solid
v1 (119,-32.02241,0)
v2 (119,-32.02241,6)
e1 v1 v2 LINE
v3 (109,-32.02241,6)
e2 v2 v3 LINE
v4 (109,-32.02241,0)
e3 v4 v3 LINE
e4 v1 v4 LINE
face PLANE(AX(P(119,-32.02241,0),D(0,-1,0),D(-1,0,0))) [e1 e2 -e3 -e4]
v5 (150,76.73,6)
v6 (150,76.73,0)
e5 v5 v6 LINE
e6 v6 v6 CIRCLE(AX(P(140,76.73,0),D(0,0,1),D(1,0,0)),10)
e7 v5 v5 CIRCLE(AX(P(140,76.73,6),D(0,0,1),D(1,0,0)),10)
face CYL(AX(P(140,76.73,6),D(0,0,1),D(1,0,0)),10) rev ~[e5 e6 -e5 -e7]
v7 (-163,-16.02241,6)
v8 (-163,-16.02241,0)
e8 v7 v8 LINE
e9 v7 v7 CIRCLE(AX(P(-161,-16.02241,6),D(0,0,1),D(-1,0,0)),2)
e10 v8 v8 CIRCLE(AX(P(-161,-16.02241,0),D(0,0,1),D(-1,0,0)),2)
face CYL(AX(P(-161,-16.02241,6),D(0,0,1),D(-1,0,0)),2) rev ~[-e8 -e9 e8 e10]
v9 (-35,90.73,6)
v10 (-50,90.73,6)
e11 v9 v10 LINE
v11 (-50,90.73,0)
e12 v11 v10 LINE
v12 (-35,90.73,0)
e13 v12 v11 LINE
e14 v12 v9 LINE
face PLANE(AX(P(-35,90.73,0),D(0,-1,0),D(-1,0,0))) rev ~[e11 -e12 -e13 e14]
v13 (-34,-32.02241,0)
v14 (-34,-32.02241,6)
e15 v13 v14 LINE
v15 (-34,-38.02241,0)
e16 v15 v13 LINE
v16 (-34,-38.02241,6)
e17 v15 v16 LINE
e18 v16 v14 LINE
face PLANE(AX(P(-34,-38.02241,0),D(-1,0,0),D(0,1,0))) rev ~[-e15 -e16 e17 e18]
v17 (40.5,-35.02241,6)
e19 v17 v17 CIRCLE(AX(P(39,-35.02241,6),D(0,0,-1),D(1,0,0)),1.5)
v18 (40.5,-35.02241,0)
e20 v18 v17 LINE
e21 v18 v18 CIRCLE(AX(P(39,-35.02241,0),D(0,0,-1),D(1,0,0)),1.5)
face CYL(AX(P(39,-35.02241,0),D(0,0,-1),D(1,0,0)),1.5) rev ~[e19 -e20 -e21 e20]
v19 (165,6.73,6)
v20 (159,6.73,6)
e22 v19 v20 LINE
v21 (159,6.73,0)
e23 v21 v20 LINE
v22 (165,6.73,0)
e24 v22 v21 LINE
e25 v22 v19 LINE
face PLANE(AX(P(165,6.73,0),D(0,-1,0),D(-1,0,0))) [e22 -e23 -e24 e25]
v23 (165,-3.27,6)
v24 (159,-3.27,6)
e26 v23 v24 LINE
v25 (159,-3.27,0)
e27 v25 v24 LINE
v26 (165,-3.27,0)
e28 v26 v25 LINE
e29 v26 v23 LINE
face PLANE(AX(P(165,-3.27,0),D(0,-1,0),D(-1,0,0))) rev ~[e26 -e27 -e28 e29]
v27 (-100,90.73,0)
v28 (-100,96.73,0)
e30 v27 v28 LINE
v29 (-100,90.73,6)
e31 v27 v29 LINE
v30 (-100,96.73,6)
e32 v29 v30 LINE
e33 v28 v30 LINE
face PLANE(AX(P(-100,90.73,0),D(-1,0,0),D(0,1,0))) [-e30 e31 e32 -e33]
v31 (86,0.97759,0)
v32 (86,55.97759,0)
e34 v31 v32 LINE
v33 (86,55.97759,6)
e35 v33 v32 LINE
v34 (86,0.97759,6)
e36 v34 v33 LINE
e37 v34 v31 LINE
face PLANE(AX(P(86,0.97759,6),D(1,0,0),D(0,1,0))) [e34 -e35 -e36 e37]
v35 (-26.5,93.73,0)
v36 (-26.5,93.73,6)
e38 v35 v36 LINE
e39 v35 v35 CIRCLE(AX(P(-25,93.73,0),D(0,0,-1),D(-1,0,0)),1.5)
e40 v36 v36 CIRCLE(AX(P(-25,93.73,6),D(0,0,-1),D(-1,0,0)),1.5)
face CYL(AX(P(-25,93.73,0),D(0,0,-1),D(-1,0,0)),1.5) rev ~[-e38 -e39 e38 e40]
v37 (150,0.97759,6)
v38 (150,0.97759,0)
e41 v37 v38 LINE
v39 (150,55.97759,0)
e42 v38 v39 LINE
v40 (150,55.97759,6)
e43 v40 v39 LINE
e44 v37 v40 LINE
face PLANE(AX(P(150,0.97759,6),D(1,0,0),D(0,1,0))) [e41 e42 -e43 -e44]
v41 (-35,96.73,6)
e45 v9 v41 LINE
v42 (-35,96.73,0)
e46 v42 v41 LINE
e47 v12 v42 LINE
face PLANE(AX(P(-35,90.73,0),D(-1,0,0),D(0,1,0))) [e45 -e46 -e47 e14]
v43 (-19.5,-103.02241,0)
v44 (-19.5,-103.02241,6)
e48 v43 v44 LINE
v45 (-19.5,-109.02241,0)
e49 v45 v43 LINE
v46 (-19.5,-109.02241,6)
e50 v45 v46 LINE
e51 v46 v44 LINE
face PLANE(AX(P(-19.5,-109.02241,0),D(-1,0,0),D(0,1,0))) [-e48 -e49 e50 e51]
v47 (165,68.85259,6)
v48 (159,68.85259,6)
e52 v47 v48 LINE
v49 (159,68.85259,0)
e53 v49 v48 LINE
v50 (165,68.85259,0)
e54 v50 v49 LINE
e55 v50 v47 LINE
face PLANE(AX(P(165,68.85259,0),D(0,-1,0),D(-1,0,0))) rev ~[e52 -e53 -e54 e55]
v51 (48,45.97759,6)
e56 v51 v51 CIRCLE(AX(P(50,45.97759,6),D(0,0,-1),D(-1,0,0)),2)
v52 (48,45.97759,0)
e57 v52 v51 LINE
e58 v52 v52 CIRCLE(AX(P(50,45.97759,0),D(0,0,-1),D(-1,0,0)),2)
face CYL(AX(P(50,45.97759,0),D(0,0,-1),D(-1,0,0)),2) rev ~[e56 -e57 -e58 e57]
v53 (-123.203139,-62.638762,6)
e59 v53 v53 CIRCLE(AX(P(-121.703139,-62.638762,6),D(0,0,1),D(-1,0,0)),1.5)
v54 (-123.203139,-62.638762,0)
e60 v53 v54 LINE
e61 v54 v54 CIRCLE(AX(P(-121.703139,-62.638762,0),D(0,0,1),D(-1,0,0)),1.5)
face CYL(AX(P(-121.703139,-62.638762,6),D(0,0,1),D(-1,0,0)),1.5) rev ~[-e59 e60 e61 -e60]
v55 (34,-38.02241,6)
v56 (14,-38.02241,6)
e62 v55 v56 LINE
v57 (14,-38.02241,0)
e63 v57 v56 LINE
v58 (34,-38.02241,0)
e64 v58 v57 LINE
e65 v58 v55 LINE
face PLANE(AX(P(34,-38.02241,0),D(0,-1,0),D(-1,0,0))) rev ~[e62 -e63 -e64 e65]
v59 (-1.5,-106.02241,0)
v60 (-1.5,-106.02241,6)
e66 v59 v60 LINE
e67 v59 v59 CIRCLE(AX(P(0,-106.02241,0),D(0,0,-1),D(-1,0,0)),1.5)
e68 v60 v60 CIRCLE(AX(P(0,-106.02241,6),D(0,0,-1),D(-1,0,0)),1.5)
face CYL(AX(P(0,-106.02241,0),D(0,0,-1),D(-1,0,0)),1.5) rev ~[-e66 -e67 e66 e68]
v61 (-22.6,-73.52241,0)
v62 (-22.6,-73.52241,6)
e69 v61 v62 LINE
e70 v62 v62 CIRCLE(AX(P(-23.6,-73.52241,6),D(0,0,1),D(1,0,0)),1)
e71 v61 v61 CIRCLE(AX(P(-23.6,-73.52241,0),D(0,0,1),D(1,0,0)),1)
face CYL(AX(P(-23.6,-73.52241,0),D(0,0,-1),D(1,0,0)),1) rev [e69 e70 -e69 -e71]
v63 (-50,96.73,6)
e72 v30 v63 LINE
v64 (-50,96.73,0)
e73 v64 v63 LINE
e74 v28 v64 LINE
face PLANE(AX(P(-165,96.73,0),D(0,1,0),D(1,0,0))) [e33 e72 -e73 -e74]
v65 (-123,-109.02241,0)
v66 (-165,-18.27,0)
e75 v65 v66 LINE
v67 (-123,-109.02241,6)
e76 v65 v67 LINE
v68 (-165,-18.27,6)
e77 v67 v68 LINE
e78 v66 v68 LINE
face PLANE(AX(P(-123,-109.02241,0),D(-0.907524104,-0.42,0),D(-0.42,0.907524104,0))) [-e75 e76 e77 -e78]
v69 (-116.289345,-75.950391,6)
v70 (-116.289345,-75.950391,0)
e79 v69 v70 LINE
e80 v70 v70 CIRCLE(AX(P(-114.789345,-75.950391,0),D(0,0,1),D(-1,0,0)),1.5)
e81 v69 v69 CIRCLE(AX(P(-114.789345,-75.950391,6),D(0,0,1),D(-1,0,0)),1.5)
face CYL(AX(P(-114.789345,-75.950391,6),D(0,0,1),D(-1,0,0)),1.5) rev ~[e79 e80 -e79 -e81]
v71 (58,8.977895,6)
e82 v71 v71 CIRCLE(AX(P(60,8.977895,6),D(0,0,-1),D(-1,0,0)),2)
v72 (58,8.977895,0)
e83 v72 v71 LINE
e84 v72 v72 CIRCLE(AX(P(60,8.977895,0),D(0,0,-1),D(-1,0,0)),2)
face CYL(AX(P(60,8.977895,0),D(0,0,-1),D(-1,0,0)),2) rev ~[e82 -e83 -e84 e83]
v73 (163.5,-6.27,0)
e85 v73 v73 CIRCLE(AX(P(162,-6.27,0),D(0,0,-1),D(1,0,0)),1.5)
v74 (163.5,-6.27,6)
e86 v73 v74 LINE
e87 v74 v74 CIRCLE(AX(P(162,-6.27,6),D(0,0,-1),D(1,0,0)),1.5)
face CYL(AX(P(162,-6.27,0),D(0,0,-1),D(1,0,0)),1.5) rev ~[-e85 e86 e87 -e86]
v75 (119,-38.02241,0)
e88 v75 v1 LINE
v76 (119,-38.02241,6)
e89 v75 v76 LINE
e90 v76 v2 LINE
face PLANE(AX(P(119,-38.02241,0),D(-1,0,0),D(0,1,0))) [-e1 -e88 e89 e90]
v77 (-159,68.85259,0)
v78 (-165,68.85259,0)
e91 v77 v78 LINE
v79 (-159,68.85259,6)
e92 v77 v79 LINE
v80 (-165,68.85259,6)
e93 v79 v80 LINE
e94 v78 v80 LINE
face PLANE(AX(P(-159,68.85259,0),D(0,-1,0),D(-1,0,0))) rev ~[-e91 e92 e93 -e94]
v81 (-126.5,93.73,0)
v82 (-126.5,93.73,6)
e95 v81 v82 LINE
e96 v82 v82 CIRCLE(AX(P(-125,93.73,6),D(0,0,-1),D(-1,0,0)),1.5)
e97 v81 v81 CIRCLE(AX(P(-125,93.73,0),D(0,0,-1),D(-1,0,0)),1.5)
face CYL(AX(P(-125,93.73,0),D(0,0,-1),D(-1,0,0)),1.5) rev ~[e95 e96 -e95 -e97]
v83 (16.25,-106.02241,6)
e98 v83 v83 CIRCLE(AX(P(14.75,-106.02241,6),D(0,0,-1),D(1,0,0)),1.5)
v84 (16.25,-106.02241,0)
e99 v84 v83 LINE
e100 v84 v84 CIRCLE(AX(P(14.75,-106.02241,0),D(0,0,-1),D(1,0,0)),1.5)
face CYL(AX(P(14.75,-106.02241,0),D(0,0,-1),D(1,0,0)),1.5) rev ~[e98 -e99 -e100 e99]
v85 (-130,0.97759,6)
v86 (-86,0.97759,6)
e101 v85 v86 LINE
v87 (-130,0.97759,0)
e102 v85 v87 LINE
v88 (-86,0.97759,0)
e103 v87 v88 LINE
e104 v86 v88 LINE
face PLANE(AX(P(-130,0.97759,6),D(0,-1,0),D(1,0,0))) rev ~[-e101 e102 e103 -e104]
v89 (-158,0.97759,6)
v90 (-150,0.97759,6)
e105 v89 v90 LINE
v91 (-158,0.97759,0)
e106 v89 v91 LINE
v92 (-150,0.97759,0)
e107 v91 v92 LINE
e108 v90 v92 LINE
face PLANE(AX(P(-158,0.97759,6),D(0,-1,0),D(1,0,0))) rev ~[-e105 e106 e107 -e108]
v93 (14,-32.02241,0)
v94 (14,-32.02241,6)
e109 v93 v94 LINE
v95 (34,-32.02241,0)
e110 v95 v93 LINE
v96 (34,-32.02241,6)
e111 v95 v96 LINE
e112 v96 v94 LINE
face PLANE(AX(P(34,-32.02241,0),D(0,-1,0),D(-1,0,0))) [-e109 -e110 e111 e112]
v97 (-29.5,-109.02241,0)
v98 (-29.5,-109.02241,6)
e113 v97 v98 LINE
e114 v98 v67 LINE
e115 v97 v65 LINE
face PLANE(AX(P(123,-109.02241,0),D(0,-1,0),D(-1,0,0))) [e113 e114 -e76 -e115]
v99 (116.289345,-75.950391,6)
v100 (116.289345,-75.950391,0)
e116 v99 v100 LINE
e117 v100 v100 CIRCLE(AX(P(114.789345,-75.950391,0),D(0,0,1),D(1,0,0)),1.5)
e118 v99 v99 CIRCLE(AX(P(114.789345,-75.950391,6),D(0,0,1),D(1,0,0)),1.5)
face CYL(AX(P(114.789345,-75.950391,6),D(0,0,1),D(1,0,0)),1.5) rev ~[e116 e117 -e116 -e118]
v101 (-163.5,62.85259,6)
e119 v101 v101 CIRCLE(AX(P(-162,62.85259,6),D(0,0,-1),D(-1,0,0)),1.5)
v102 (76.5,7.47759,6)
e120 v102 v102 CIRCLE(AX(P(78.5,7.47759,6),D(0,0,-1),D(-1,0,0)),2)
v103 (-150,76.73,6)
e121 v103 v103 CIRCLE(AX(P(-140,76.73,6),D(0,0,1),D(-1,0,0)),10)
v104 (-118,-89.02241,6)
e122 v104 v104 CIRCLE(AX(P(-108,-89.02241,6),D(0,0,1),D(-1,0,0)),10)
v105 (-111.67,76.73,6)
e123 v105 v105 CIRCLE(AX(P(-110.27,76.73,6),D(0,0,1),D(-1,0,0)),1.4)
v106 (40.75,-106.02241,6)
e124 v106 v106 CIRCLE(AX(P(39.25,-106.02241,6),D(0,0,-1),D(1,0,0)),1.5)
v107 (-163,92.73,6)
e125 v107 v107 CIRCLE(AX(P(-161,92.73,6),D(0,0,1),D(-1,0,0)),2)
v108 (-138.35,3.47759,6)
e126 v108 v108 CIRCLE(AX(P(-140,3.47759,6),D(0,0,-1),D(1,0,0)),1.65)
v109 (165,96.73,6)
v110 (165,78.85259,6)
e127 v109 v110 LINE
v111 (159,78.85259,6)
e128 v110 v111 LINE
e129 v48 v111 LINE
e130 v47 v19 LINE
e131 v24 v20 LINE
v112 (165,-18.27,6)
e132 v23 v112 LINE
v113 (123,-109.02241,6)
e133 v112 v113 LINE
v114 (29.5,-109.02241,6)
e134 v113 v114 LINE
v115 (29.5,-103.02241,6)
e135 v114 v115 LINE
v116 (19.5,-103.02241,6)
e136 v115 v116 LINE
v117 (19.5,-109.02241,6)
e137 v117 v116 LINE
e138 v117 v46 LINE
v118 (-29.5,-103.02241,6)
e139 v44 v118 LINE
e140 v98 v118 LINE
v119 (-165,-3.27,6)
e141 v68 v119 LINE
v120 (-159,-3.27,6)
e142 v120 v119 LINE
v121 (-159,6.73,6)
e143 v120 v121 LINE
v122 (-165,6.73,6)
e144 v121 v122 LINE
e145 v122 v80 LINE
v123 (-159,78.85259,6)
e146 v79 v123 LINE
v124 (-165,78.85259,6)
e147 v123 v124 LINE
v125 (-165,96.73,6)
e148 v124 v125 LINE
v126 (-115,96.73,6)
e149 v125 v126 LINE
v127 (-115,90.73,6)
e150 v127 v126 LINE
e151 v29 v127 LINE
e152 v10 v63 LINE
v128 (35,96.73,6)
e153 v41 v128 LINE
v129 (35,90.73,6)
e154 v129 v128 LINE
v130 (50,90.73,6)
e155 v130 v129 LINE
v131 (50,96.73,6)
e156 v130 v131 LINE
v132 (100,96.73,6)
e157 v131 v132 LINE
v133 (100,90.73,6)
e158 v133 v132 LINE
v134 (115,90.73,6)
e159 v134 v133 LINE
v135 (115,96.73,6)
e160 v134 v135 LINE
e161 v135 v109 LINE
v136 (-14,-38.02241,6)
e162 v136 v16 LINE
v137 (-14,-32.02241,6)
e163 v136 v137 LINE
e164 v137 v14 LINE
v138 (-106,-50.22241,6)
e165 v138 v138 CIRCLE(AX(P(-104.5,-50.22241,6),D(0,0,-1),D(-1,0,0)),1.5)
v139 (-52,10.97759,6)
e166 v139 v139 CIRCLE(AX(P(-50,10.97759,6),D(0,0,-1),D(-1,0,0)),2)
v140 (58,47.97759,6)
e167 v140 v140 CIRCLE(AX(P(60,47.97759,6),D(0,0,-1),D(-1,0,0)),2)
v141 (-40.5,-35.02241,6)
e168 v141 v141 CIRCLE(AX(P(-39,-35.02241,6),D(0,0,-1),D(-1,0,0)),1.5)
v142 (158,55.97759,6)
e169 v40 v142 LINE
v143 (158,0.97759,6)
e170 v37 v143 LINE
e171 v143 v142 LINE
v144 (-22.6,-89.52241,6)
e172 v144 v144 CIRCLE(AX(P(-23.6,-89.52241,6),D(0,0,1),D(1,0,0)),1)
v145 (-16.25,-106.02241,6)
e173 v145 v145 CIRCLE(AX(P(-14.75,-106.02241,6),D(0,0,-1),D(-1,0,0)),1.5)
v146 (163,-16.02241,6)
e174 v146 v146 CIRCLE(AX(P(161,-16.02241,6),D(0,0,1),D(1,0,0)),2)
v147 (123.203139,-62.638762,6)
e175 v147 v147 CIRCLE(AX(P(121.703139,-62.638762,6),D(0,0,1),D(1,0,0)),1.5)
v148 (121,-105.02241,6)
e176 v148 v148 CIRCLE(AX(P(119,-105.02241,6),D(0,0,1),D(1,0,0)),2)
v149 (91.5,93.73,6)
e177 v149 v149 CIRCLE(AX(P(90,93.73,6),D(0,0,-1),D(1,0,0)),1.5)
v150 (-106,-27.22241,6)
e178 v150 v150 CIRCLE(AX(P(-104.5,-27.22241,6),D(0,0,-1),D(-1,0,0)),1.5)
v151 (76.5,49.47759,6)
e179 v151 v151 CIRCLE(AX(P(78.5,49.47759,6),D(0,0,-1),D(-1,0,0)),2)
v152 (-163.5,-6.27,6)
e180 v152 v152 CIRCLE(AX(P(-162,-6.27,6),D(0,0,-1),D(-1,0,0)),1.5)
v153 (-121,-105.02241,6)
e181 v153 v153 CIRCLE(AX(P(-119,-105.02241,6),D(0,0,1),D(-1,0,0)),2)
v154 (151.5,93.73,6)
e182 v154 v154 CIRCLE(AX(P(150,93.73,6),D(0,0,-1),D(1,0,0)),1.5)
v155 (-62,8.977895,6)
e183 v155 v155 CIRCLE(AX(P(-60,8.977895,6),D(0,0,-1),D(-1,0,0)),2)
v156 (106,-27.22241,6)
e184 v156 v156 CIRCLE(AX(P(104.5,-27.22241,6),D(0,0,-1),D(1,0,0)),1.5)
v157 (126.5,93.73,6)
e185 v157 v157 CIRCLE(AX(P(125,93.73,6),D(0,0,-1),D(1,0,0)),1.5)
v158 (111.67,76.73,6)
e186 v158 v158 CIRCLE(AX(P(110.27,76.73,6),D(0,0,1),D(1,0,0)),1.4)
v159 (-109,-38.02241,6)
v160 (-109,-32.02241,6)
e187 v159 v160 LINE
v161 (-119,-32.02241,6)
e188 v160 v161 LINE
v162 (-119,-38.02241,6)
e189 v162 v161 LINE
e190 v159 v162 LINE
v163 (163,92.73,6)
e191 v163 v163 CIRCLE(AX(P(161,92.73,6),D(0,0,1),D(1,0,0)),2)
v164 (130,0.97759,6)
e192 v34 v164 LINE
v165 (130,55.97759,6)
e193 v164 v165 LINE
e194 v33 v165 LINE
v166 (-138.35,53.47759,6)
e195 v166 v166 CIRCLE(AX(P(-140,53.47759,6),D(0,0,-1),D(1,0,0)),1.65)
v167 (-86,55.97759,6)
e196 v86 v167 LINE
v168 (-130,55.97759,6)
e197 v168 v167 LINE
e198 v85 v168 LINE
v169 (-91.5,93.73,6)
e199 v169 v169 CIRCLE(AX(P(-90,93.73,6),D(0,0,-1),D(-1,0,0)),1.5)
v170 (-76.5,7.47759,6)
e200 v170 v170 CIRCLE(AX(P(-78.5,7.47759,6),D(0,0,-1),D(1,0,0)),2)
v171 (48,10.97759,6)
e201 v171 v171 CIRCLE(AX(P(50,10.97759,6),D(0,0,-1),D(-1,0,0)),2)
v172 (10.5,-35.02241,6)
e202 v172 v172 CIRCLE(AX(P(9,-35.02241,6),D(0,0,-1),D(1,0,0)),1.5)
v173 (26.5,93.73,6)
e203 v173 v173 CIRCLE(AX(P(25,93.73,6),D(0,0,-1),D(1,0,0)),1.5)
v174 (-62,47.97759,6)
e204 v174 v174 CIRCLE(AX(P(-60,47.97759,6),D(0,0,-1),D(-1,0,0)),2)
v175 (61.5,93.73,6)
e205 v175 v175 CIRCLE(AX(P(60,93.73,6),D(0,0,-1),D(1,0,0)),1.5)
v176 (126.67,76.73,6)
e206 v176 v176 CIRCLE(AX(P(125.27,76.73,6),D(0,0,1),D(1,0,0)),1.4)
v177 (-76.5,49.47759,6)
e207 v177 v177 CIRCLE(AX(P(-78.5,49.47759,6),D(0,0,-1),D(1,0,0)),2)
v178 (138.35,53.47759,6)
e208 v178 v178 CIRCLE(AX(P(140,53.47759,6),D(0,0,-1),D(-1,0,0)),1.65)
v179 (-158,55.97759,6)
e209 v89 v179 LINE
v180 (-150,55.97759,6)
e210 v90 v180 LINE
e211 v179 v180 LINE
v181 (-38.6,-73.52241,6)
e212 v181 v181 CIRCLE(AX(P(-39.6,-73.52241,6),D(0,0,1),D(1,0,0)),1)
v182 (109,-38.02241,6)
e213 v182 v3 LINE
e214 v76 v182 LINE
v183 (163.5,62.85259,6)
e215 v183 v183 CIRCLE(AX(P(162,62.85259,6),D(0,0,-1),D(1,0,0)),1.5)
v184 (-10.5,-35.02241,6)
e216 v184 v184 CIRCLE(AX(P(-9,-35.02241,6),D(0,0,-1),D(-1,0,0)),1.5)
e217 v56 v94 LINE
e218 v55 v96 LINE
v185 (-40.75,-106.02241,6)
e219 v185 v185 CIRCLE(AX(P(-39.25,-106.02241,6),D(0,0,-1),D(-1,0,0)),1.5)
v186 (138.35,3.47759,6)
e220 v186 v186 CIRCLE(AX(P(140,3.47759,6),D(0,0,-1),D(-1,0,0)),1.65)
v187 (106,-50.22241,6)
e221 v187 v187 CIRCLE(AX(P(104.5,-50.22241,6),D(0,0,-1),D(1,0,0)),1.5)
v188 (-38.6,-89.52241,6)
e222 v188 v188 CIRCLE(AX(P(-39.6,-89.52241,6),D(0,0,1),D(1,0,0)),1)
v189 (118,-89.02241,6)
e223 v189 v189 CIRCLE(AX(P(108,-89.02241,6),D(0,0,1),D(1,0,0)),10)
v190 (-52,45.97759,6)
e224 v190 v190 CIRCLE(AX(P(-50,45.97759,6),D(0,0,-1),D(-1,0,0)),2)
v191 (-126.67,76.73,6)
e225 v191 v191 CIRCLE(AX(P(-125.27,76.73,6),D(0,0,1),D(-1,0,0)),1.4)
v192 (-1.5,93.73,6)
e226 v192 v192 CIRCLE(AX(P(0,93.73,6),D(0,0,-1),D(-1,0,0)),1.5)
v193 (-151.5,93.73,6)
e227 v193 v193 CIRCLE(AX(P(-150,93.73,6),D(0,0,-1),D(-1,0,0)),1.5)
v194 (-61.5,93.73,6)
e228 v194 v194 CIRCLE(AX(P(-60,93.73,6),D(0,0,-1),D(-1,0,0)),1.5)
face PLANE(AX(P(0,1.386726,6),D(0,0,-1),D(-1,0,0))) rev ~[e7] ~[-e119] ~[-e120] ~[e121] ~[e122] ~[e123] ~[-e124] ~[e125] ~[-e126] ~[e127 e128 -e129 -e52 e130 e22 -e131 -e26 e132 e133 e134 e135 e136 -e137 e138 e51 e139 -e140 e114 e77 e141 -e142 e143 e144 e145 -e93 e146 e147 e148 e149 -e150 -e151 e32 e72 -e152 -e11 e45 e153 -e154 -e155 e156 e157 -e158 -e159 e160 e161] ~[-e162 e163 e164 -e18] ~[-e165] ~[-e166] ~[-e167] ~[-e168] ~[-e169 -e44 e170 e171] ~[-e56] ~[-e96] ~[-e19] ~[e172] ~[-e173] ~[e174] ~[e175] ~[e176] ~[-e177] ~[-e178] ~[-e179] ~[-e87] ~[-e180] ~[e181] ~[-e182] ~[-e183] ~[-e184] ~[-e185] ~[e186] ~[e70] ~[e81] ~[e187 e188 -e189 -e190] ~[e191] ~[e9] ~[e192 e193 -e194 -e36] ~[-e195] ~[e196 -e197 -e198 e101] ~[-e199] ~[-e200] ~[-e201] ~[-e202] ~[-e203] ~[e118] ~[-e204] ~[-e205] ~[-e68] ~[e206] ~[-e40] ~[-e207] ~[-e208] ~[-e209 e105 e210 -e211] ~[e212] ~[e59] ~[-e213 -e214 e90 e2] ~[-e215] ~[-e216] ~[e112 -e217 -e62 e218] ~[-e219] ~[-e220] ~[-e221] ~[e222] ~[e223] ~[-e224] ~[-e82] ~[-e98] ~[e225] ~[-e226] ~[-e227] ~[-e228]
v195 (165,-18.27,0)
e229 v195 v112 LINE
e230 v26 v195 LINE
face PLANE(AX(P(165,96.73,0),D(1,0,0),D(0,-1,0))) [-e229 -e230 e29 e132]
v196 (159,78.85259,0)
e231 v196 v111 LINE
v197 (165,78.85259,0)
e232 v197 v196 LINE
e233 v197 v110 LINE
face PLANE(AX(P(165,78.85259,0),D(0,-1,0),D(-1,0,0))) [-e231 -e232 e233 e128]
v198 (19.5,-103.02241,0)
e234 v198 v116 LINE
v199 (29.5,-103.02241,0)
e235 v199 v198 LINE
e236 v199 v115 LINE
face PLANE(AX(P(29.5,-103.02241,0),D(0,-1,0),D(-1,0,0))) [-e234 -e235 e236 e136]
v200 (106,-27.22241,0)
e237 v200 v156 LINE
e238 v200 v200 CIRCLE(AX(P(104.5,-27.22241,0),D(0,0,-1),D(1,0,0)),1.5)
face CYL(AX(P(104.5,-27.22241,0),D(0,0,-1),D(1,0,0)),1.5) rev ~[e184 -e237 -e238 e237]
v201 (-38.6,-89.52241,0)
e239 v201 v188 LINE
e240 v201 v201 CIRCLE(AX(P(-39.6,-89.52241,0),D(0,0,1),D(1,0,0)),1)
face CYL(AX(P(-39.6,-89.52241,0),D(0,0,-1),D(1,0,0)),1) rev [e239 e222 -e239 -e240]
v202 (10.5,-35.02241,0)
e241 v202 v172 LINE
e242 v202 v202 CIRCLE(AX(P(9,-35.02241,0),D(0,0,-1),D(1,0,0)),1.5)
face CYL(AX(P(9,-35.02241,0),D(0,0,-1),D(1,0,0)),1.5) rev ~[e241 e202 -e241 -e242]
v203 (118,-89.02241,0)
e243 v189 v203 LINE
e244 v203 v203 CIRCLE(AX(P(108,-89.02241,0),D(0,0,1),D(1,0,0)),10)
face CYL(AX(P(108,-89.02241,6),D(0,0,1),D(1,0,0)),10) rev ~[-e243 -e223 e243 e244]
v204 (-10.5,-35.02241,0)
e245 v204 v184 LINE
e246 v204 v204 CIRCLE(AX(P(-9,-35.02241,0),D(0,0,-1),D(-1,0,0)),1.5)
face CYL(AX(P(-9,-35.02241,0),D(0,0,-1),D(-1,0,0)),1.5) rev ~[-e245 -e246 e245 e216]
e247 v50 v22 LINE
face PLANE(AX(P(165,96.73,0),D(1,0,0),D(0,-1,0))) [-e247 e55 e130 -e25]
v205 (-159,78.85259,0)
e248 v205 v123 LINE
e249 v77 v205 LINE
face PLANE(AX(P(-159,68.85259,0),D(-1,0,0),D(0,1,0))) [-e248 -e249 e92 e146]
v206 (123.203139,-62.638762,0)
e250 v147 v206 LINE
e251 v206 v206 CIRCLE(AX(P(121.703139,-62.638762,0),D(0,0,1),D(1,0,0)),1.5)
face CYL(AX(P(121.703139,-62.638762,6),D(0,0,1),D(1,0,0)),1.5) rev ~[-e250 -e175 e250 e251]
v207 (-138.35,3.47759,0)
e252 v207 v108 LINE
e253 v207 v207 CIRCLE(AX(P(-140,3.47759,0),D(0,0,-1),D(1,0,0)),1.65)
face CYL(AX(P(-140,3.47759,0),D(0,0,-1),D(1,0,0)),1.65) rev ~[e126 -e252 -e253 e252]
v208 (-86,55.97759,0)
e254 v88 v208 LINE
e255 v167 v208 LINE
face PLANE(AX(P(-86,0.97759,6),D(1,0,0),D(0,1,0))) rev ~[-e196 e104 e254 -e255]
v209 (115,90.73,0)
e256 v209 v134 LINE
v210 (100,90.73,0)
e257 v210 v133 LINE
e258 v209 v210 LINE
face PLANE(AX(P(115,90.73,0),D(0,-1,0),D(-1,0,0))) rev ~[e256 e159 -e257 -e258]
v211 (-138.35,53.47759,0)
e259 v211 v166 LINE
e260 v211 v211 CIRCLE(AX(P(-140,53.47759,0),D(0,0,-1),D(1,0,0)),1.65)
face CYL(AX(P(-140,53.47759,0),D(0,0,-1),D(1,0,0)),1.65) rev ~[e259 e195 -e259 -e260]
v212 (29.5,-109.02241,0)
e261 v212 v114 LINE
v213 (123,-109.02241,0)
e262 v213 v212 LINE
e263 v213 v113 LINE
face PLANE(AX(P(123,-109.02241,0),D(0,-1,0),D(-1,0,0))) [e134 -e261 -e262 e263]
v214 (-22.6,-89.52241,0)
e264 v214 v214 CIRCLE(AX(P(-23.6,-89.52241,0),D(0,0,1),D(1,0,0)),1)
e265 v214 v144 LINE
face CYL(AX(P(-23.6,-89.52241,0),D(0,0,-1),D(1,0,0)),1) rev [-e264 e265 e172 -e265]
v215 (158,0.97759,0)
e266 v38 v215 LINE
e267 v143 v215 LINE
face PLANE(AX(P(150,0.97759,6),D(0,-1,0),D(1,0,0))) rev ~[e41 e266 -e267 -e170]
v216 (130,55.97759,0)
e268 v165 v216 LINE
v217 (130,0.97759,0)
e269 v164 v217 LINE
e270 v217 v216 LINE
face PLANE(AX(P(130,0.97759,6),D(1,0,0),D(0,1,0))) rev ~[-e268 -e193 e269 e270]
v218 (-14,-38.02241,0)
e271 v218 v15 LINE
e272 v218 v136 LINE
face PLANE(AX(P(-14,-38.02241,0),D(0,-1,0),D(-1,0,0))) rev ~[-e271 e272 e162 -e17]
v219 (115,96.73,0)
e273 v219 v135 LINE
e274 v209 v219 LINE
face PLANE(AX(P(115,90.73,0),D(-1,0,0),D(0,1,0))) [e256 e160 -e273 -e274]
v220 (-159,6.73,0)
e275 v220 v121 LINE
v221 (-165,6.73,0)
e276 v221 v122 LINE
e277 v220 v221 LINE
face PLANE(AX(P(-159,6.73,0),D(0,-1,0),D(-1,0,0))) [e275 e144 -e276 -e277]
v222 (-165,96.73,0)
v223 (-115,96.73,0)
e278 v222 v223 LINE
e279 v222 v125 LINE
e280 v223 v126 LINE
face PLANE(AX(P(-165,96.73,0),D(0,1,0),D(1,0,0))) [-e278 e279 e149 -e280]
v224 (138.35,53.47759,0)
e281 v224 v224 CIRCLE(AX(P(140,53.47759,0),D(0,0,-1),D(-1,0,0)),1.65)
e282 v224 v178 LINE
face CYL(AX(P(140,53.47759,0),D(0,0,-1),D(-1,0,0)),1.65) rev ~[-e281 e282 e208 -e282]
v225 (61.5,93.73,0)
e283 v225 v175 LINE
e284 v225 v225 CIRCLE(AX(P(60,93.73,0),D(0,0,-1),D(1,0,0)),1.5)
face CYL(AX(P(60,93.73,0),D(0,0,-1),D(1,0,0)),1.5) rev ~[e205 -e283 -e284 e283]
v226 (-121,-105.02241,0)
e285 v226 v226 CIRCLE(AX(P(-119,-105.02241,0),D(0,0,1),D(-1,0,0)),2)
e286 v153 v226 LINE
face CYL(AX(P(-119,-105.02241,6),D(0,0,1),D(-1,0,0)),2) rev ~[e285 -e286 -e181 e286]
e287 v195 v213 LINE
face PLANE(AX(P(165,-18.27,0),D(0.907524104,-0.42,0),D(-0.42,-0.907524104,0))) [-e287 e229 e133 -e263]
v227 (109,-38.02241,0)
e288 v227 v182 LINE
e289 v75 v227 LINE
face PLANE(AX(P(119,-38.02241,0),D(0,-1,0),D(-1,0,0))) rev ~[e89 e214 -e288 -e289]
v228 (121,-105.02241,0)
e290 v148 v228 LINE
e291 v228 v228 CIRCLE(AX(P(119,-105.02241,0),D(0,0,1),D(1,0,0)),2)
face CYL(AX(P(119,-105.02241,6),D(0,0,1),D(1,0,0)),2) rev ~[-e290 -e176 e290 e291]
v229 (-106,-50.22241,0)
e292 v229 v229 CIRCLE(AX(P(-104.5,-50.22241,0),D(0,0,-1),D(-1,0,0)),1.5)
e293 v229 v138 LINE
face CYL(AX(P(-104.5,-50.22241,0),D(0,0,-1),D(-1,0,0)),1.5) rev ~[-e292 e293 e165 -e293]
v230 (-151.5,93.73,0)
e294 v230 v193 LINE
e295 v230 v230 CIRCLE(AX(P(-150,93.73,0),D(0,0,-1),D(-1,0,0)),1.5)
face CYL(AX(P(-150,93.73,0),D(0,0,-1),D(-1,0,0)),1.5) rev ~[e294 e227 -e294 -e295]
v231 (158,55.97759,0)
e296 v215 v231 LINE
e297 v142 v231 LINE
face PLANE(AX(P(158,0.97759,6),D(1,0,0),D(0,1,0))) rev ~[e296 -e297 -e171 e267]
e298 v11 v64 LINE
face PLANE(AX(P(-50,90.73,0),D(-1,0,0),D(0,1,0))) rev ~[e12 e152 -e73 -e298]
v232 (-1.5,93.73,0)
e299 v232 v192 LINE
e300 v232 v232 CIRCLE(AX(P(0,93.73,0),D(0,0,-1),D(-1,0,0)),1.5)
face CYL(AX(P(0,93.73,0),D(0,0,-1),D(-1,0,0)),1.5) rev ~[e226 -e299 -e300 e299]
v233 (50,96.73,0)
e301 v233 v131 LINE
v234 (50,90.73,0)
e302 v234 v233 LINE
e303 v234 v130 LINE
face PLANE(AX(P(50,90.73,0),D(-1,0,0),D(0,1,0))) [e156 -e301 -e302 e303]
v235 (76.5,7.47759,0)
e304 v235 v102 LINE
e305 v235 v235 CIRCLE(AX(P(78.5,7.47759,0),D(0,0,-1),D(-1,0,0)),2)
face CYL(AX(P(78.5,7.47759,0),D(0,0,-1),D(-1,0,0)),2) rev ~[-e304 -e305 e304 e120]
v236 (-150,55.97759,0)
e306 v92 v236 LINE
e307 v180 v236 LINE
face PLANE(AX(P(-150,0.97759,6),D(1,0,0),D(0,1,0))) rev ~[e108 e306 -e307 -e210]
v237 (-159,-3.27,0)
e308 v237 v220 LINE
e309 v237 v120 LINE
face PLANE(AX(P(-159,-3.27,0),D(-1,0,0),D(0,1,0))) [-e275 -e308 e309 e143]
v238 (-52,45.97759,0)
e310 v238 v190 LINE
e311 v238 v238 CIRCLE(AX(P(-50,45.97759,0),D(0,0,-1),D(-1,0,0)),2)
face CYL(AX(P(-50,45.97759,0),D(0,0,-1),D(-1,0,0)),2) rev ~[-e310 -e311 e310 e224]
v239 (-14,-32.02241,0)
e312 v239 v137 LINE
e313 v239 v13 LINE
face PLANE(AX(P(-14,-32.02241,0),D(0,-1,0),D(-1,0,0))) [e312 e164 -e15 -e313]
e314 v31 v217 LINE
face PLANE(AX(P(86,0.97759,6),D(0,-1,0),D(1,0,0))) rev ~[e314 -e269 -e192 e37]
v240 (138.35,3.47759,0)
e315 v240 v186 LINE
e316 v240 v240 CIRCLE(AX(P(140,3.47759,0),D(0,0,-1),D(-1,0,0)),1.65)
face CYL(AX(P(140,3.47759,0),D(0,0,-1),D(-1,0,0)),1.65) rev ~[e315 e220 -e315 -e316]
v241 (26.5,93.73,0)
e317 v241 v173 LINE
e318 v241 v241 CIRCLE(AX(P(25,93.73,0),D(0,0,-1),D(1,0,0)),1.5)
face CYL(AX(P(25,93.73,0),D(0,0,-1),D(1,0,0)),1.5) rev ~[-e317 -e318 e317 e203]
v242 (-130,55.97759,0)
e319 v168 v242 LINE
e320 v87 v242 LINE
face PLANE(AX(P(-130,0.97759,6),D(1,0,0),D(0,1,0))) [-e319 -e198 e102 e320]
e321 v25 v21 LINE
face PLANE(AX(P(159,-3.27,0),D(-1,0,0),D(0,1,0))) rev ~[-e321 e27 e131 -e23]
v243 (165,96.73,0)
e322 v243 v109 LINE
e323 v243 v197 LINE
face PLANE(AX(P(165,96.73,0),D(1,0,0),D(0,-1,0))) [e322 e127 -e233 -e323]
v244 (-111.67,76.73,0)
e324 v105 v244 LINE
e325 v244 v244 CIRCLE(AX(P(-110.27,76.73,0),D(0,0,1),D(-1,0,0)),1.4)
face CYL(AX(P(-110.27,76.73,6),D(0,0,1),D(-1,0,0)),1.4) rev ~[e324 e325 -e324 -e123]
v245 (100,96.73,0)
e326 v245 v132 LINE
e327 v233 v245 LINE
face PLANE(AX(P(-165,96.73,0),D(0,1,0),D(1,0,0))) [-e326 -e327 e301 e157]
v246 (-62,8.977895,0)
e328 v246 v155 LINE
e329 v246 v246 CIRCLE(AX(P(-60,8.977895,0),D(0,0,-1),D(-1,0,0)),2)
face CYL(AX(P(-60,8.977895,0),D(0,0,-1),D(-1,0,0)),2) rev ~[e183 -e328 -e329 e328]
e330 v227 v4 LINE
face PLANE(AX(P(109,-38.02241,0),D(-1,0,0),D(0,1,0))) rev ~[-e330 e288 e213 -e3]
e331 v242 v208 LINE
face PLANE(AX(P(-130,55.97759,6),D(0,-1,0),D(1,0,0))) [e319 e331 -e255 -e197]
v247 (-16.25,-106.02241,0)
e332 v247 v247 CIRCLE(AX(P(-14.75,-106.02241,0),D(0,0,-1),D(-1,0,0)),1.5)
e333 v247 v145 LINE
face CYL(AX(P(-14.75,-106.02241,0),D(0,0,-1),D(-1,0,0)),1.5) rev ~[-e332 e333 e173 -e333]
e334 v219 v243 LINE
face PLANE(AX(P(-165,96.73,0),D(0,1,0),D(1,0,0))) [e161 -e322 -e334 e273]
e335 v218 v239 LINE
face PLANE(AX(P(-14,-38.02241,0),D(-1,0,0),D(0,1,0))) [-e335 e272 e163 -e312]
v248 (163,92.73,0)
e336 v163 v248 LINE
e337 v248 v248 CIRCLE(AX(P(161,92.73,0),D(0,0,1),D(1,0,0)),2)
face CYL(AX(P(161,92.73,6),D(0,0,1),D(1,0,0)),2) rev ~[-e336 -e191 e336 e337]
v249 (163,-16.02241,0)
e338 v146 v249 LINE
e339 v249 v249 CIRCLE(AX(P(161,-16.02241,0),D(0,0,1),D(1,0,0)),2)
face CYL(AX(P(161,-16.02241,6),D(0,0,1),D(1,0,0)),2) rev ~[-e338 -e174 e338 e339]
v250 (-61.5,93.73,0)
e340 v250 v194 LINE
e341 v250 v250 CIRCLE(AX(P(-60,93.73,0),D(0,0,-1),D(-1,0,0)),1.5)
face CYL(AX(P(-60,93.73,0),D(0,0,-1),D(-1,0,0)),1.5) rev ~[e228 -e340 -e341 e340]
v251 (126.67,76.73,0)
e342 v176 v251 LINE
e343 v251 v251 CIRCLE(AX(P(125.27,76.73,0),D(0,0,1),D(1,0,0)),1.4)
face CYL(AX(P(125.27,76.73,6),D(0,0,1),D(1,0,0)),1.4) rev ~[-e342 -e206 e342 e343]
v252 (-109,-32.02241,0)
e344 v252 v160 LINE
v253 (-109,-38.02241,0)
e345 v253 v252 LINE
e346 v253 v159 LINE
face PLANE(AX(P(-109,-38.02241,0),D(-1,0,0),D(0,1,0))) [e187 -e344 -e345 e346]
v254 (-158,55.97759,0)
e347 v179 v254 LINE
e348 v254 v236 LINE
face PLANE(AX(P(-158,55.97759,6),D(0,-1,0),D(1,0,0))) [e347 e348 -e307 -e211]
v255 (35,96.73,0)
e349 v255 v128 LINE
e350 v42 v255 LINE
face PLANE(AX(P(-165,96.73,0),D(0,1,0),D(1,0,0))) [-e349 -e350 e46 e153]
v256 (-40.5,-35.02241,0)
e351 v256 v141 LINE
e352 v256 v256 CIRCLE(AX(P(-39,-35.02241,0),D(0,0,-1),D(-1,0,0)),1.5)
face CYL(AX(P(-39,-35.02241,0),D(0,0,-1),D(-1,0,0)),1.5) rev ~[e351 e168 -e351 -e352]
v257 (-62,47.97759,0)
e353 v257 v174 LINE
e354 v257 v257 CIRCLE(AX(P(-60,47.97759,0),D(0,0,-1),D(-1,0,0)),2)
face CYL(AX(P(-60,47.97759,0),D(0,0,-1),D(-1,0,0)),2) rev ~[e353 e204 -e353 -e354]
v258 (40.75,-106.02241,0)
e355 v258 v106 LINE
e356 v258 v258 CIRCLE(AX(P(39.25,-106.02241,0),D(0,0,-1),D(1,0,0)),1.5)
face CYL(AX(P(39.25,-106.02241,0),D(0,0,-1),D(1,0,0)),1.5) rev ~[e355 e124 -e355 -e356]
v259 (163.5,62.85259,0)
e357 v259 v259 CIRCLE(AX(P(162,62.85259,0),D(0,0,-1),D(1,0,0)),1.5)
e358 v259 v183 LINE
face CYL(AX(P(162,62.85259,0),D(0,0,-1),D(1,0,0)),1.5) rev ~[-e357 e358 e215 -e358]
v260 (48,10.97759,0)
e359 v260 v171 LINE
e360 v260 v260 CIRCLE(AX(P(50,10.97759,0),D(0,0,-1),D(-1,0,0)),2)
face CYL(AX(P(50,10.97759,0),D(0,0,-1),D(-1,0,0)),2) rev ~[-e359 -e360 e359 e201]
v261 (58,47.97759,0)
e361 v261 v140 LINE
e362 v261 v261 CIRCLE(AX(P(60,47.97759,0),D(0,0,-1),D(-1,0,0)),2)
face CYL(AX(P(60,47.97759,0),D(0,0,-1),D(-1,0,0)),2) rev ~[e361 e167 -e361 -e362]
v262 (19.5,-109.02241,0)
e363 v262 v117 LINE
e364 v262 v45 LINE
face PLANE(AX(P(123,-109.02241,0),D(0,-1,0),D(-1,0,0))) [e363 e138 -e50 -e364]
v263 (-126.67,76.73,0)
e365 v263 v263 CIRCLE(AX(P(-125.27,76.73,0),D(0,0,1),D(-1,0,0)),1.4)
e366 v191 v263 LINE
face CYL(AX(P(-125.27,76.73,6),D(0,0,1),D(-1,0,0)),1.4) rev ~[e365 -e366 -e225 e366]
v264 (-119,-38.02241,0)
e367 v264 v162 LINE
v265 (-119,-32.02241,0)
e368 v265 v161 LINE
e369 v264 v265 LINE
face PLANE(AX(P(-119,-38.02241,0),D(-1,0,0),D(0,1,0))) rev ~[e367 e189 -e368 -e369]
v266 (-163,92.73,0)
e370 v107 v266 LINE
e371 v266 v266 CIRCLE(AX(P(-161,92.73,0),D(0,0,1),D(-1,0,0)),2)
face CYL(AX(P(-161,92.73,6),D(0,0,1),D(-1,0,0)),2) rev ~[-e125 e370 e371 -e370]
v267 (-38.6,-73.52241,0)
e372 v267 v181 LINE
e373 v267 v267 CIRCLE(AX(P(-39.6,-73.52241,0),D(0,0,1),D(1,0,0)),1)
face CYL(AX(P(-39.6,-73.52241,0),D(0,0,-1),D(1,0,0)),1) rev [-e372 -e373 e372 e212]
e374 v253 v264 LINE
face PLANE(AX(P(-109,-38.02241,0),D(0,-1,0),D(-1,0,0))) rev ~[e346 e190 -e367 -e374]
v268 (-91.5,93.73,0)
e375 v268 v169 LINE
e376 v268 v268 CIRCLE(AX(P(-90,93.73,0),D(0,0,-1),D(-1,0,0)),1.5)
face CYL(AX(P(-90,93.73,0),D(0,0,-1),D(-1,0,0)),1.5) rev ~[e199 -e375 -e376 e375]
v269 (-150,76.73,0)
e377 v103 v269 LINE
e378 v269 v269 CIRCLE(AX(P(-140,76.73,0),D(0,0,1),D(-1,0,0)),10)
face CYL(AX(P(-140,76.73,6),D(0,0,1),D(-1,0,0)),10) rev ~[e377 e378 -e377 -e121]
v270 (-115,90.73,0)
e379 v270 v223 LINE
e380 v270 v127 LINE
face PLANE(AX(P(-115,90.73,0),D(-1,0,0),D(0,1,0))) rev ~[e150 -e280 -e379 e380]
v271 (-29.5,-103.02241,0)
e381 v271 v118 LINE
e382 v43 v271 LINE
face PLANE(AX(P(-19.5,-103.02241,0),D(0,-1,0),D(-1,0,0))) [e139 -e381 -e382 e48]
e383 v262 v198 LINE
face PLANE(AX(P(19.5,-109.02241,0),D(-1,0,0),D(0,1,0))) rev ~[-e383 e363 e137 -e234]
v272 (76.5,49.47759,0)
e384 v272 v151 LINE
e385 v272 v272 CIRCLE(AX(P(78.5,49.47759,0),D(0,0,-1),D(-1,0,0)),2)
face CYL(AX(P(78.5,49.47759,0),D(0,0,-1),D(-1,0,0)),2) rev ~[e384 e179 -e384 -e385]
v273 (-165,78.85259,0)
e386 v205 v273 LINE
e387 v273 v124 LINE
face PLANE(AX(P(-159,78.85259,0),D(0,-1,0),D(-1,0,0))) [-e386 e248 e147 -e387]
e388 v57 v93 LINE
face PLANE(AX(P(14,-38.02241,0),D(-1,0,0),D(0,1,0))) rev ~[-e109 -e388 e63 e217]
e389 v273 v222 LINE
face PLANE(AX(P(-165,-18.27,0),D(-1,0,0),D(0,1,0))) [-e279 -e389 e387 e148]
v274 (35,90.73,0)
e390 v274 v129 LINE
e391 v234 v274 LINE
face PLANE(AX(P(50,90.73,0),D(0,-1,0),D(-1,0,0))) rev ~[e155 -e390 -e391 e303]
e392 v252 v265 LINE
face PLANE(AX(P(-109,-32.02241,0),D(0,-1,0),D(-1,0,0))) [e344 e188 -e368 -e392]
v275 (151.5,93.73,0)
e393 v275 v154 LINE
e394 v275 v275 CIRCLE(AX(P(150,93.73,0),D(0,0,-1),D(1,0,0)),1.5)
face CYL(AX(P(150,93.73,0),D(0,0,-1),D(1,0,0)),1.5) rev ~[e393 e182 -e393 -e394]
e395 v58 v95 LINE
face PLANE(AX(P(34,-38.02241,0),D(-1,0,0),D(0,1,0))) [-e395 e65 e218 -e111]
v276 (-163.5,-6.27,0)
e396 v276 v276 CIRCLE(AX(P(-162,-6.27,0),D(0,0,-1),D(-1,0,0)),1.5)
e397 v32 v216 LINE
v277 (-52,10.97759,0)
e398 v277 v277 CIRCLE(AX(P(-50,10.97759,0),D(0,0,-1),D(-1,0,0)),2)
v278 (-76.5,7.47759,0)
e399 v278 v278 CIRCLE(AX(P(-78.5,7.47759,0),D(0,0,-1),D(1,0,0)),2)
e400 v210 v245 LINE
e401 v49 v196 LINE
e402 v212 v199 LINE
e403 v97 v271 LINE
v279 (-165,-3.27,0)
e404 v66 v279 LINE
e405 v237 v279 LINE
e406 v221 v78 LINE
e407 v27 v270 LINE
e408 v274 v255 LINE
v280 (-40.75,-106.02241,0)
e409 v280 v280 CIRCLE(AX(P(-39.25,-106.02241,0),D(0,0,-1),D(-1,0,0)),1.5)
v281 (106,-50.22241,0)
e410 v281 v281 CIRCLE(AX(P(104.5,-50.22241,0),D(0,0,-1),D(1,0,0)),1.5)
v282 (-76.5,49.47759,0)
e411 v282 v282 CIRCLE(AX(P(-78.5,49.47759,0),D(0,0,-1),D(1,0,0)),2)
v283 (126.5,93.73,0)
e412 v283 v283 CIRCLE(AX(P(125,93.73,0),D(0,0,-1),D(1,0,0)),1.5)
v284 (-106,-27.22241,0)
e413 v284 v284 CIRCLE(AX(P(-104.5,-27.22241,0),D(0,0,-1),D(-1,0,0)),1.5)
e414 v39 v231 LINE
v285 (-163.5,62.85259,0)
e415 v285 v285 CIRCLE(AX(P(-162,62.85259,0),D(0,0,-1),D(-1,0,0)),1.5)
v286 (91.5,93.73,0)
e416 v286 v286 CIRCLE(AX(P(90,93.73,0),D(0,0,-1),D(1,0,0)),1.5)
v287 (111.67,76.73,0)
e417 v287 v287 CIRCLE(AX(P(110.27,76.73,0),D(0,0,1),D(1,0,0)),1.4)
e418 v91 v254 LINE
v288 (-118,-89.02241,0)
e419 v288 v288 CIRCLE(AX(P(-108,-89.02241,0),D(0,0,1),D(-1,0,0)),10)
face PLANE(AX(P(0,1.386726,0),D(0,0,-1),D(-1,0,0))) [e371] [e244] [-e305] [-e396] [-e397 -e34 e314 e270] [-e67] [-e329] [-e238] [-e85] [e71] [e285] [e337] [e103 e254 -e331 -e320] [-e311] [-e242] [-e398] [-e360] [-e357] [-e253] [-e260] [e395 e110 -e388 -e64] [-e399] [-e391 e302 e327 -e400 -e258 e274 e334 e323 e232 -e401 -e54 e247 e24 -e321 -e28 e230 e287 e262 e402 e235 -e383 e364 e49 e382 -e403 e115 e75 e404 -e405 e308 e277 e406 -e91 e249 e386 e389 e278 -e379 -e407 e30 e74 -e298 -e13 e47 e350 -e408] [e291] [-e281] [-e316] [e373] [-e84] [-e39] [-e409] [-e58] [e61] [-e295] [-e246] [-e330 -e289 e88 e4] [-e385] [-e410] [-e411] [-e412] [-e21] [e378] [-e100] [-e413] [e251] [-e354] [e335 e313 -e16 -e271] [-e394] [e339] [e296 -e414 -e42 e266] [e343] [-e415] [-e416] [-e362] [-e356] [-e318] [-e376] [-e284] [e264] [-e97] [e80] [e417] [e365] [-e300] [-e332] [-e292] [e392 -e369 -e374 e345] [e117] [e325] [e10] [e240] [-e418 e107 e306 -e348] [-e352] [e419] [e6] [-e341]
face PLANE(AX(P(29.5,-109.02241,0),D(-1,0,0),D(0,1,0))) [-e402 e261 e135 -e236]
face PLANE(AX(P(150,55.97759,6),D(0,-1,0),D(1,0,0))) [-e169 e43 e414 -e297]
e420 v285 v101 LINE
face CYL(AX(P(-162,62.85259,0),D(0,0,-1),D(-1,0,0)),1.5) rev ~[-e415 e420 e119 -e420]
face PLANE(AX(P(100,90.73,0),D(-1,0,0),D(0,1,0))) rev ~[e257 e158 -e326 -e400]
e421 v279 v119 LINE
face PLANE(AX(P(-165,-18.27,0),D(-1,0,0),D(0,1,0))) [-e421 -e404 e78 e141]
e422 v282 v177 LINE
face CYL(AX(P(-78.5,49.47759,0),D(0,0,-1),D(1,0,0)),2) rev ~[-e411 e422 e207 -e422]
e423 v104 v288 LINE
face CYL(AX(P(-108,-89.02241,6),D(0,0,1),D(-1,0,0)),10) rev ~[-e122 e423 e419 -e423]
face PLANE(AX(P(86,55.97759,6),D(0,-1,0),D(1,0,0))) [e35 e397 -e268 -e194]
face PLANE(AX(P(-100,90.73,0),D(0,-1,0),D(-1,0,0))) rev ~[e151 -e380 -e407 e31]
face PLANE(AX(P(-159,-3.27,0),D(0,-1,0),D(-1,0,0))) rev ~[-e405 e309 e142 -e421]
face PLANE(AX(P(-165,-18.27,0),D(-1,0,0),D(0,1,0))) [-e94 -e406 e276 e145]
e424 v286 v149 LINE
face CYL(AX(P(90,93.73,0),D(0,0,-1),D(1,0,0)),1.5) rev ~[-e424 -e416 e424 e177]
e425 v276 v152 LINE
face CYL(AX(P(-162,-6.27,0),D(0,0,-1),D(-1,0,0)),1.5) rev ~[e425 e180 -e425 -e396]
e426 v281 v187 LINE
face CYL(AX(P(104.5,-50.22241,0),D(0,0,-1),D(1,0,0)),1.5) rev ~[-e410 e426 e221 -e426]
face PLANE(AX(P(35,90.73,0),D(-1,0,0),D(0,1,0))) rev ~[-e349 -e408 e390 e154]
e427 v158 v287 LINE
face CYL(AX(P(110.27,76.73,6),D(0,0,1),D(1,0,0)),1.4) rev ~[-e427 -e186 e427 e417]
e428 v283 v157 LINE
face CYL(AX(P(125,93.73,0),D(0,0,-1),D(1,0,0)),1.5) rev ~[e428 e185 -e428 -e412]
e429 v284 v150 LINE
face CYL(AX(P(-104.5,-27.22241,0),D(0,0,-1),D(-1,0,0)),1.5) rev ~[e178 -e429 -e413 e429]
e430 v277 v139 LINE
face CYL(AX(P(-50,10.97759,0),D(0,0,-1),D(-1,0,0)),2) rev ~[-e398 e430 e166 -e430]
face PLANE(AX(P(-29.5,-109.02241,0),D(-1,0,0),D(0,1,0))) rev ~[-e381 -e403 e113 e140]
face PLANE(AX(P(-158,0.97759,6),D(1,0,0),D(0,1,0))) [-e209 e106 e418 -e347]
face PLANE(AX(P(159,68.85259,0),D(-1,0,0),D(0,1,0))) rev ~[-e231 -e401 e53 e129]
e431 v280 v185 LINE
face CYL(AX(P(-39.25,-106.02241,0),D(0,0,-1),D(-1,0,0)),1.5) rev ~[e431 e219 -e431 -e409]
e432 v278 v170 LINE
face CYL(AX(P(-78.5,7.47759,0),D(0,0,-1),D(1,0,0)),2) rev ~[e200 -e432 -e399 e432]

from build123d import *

# Parameters (mm, degrees)
ESQUISSE1_R             = 1
BOSS_EXTRU_1_DEPTH      = 6
ESQUISSE2_R             = 10
ESQUISSE2_R_2           = 2
ESQUISSE2_R_3           = 1.4
ESQUISSE2_R_4           = 1.5
ESQUISSE2_W             = 8
ESQUISSE2_H             = 55
ESQUISSE2_W_2           = 44
ENL_V_MAT_EXTRU_1_DEPTH = 6
ESQUISSE3_W             = 6
ESQUISSE3_H             = 10
ESQUISSE3_W_2           = 10
ESQUISSE3_H_2           = 6
ESQUISSE3_W_3           = 15
ENL_V_MAT_EXTRU_2_DEPTH = 6
ESQUISSE4_R             = 1.5
ENL_V_MAT_EXTRU_3_DEPTH = 6
ESQUISSE5_W             = 10
ESQUISSE5_H             = 6
ESQUISSE5_W_2           = 20
ENL_V_MAT_EXTRU_4_DEPTH = 6
ESQUISSE6_R             = 1.65
ESQUISSE6_R_2           = 1.5
ESQUISSE6_R_3           = 2
ENL_V_MAT_EXTRU_5_DEPTH = 6


with BuildPart() as part:
    # Esquisse1 → Boss.-Extru.1 (new body)
    with BuildSketch(Plane.XY):
        Polygon((-165, 96.73), (165, 96.73), (165, -18.27), (123, -109.022410436), (-123, -109.022410436), (-165, -18.27), align=None)
        with Locations((-23.6, -89.522410436)):
            Circle(ESQUISSE1_R, mode=Mode.SUBTRACT)
        with Locations((-23.6, -73.522410436)):
            Circle(ESQUISSE1_R, mode=Mode.SUBTRACT)
        with Locations((-39.6, -89.522410436)):
            Circle(ESQUISSE1_R, mode=Mode.SUBTRACT)
        with Locations((-39.6, -73.522410436)):
            Circle(ESQUISSE1_R, mode=Mode.SUBTRACT)
    extrude(amount=BOSS_EXTRU_1_DEPTH)

    # Esquisse2 → Enlèv. mat.-Extru.1 (cut)
    with BuildSketch(Plane.XY.offset(6)):
        with Locations((140, 76.73)):
            Circle(ESQUISSE2_R)
        with Locations((108, -89.022410436)):
            Circle(ESQUISSE2_R)
        with Locations(Location((-140, 76.73, 0), (0, 0, 180))):
            Circle(ESQUISSE2_R)
        with Locations(Location((-108, -89.022410436, 0), (0, 0, 180))):
            Circle(ESQUISSE2_R)
        with Locations((161, -16.022410436)):
            Circle(ESQUISSE2_R_2)
        with Locations((119, -105.022410436)):
            Circle(ESQUISSE2_R_2)
        with Locations((161, 92.73)):
            Circle(ESQUISSE2_R_2)
        with Locations(Location((-161, 92.73, 0), (0, 0, 180))):
            Circle(ESQUISSE2_R_2)
        with Locations(Location((-161, -16.022410436, 0), (0, 0, 180))):
            Circle(ESQUISSE2_R_2)
        with Locations(Location((-119, -105.022410436, 0), (0, 0, 180))):
            Circle(ESQUISSE2_R_2)
        with Locations((125.27, 76.73)):
            Circle(ESQUISSE2_R_3)
        with Locations((110.27, 76.73)):
            Circle(ESQUISSE2_R_3)
        with Locations((114.7893454, -75.950391119)):
            Circle(ESQUISSE2_R_4)
        with Locations((121.703139086, -62.638762485)):
            Circle(ESQUISSE2_R_4)
        with Locations(Location((-110.27, 76.73, 0), (0, 0, 180))):
            Circle(ESQUISSE2_R_3)
        with Locations(Location((-125.27, 76.73, 0), (0, 0, 180))):
            Circle(ESQUISSE2_R_3)
        with Locations(Location((-121.703139086, -62.638762485, 0), (0, 0, 180))):
            Circle(ESQUISSE2_R_4)
        with Locations(Location((-114.7893454, -75.950391119, 0), (0, 0, 180))):
            Circle(ESQUISSE2_R_4)
        with Locations((-154, 28.477589564)):
            Rectangle(ESQUISSE2_W, ESQUISSE2_H)
        with Locations((-108, 28.477589564)):
            Rectangle(ESQUISSE2_W_2, ESQUISSE2_H)
        with Locations((108, 28.477589564)):
            Rectangle(ESQUISSE2_W_2, ESQUISSE2_H)
        with Locations((154, 28.477589564)):
            Rectangle(ESQUISSE2_W, ESQUISSE2_H)
    extrude(amount=-ENL_V_MAT_EXTRU_1_DEPTH, mode=Mode.SUBTRACT)

    # Esquisse3 → Enlèv. mat.-Extru.2 (cut)
    with BuildSketch(Plane(origin=(0, 0, 0), x_dir=(-1, 0, 0), z_dir=(0, 0, -1))):
        with Locations((162, 1.73)):
            Rectangle(ESQUISSE3_W, ESQUISSE3_H)
        with Locations((162, 73.852589564)):
            Rectangle(ESQUISSE3_W, ESQUISSE3_H)
        with Locations((24.5, -106.022410436)):
            Rectangle(ESQUISSE3_W_2, ESQUISSE3_H_2)
        with Locations((-24.5, -106.022410436)):
            Rectangle(ESQUISSE3_W_2, ESQUISSE3_H_2)
        with Locations((-162, 73.852589564)):
            Rectangle(ESQUISSE3_W, ESQUISSE3_H)
        with Locations((-162, 1.73)):
            Rectangle(ESQUISSE3_W, ESQUISSE3_H)
        with Locations((107.5, 93.73)):
            Rectangle(ESQUISSE3_W_3, ESQUISSE3_H_2)
        with Locations((-42.5, 93.73)):
            Rectangle(ESQUISSE3_W_3, ESQUISSE3_H_2)
        with Locations((42.5, 93.73)):
            Rectangle(ESQUISSE3_W_3, ESQUISSE3_H_2)
        with Locations((-107.5, 93.73)):
            Rectangle(ESQUISSE3_W_3, ESQUISSE3_H_2)
    extrude(amount=-ENL_V_MAT_EXTRU_2_DEPTH, mode=Mode.SUBTRACT)

    # Esquisse4 → Enlèv. mat.-Extru.3 (cut)
    with BuildSketch(Plane(origin=(0, 0, 0), x_dir=(-1, 0, 0), z_dir=(0, 0, -1))):
        with Locations((162, -6.27)):
            Circle(ESQUISSE4_R)
        with Locations((0, -106.022410436)):
            Circle(ESQUISSE4_R)
        with Locations((162, 62.852589564)):
            Circle(ESQUISSE4_R)
        with Locations((0, 93.73)):
            Circle(ESQUISSE4_R)
        with Locations(Location((-39.25, -106.022410436, 0), (0, 0, 180))):
            Circle(ESQUISSE4_R)
        with Locations(Location((-14.75, -106.022410436, 0), (0, 0, 180))):
            Circle(ESQUISSE4_R)
        with Locations((14.75, -106.022410436)):
            Circle(ESQUISSE4_R)
        with Locations((39.25, -106.022410436)):
            Circle(ESQUISSE4_R)
        with Locations((150, 93.73)):
            Circle(ESQUISSE4_R)
        with Locations((125, 93.73)):
            Circle(ESQUISSE4_R)
        with Locations((90, 93.73)):
            Circle(ESQUISSE4_R)
        with Locations(Location((-25, 93.73, 0), (0, 0, 180))):
            Circle(ESQUISSE4_R)
        with Locations((60, 93.73)):
            Circle(ESQUISSE4_R)
        with Locations((25, 93.73)):
            Circle(ESQUISSE4_R)
        with Locations(Location((-60, 93.73, 0), (0, 0, 180))):
            Circle(ESQUISSE4_R)
        with Locations(Location((-90, 93.73, 0), (0, 0, 180))):
            Circle(ESQUISSE4_R)
        with Locations(Location((-125, 93.73, 0), (0, 0, 180))):
            Circle(ESQUISSE4_R)
        with Locations(Location((-150, 93.73, 0), (0, 0, 180))):
            Circle(ESQUISSE4_R)
        with Locations(Location((-162, 62.852589564, 0), (0, 0, 180))):
            Circle(ESQUISSE4_R)
        with Locations(Location((-162, -6.27, 0), (0, 0, 180))):
            Circle(ESQUISSE4_R)
    extrude(amount=-ENL_V_MAT_EXTRU_3_DEPTH, mode=Mode.SUBTRACT)

    # Esquisse5 → Enlèv. mat.-Extru.4 (cut)
    with BuildSketch(Plane(origin=(0, 0, 0), x_dir=(-1, 0, 0), z_dir=(0, 0, -1))):
        with Locations((114, -35.022410436)):
            Rectangle(ESQUISSE5_W, ESQUISSE5_H)
        with Locations((24, -35.022410436)):
            Rectangle(ESQUISSE5_W_2, ESQUISSE5_H)
        with Locations((-24, -35.022410436)):
            Rectangle(ESQUISSE5_W_2, ESQUISSE5_H)
        with Locations((-114, -35.022410436)):
            Rectangle(ESQUISSE5_W, ESQUISSE5_H)
    extrude(amount=-ENL_V_MAT_EXTRU_4_DEPTH, mode=Mode.SUBTRACT)

    # Esquisse6 → Enlèv. mat.-Extru.5 (cut)
    with BuildSketch(Plane(origin=(0, 0, 0), x_dir=(-1, 0, 0), z_dir=(0, 0, -1))):
        with Locations((-140, 3.477589564)):
            Circle(ESQUISSE6_R)
        with Locations((-140, 53.477589564)):
            Circle(ESQUISSE6_R)
        with Locations(Location((140, 53.477589564, 0), (0, 0, 180))):
            Circle(ESQUISSE6_R)
        with Locations(Location((140, 3.477589564, 0), (0, 0, 180))):
            Circle(ESQUISSE6_R)
        with Locations(Location((-39, -35.022410436, 0), (0, 0, 180))):
            Circle(ESQUISSE6_R_2)
        with Locations((9, -35.022410436)):
            Circle(ESQUISSE6_R_2)
        with Locations((39, -35.022410436)):
            Circle(ESQUISSE6_R_2)
        with Locations(Location((-9, -35.022410436, 0), (0, 0, 180))):
            Circle(ESQUISSE6_R_2)
        with Locations((-78.5, 49.477589564)):
            Circle(ESQUISSE6_R_3)
        with Locations((-78.5, 7.477589564)):
            Circle(ESQUISSE6_R_3)
        with Locations((-60, 47.977589564)):
            Circle(ESQUISSE6_R_3)
        with Locations((-60, 8.977894939)):
            Circle(ESQUISSE6_R_3)
        with Locations((60, 8.977894939)):
            Circle(ESQUISSE6_R_3)
        with Locations((60, 47.977589564)):
            Circle(ESQUISSE6_R_3)
        with Locations((-50, 45.977589564)):
            Circle(ESQUISSE6_R_3)
        with Locations((50, 45.977589564)):
            Circle(ESQUISSE6_R_3)
        with Locations((50, 10.977589564)):
            Circle(ESQUISSE6_R_3)
        with Locations((-50, 10.977589564)):
            Circle(ESQUISSE6_R_3)
        with Locations(Location((78.5, 7.477589564, 0), (0, 0, 180))):
            Circle(ESQUISSE6_R_3)
        with Locations(Location((78.5, 49.477589564, 0), (0, 0, 180))):
            Circle(ESQUISSE6_R_3)
        with Locations((104.5, -27.222410436)):
            Circle(ESQUISSE6_R_2)
        with Locations((104.5, -50.222410436)):
            Circle(ESQUISSE6_R_2)
        with Locations(Location((-104.5, -50.222410436, 0), (0, 0, 180))):
            Circle(ESQUISSE6_R_2)
        with Locations(Location((-104.5, -27.222410436, 0), (0, 0, 180))):
            Circle(ESQUISSE6_R_2)
    extrude(amount=-ENL_V_MAT_EXTRU_5_DEPTH, mode=Mode.SUBTRACT)


solid = part.part
